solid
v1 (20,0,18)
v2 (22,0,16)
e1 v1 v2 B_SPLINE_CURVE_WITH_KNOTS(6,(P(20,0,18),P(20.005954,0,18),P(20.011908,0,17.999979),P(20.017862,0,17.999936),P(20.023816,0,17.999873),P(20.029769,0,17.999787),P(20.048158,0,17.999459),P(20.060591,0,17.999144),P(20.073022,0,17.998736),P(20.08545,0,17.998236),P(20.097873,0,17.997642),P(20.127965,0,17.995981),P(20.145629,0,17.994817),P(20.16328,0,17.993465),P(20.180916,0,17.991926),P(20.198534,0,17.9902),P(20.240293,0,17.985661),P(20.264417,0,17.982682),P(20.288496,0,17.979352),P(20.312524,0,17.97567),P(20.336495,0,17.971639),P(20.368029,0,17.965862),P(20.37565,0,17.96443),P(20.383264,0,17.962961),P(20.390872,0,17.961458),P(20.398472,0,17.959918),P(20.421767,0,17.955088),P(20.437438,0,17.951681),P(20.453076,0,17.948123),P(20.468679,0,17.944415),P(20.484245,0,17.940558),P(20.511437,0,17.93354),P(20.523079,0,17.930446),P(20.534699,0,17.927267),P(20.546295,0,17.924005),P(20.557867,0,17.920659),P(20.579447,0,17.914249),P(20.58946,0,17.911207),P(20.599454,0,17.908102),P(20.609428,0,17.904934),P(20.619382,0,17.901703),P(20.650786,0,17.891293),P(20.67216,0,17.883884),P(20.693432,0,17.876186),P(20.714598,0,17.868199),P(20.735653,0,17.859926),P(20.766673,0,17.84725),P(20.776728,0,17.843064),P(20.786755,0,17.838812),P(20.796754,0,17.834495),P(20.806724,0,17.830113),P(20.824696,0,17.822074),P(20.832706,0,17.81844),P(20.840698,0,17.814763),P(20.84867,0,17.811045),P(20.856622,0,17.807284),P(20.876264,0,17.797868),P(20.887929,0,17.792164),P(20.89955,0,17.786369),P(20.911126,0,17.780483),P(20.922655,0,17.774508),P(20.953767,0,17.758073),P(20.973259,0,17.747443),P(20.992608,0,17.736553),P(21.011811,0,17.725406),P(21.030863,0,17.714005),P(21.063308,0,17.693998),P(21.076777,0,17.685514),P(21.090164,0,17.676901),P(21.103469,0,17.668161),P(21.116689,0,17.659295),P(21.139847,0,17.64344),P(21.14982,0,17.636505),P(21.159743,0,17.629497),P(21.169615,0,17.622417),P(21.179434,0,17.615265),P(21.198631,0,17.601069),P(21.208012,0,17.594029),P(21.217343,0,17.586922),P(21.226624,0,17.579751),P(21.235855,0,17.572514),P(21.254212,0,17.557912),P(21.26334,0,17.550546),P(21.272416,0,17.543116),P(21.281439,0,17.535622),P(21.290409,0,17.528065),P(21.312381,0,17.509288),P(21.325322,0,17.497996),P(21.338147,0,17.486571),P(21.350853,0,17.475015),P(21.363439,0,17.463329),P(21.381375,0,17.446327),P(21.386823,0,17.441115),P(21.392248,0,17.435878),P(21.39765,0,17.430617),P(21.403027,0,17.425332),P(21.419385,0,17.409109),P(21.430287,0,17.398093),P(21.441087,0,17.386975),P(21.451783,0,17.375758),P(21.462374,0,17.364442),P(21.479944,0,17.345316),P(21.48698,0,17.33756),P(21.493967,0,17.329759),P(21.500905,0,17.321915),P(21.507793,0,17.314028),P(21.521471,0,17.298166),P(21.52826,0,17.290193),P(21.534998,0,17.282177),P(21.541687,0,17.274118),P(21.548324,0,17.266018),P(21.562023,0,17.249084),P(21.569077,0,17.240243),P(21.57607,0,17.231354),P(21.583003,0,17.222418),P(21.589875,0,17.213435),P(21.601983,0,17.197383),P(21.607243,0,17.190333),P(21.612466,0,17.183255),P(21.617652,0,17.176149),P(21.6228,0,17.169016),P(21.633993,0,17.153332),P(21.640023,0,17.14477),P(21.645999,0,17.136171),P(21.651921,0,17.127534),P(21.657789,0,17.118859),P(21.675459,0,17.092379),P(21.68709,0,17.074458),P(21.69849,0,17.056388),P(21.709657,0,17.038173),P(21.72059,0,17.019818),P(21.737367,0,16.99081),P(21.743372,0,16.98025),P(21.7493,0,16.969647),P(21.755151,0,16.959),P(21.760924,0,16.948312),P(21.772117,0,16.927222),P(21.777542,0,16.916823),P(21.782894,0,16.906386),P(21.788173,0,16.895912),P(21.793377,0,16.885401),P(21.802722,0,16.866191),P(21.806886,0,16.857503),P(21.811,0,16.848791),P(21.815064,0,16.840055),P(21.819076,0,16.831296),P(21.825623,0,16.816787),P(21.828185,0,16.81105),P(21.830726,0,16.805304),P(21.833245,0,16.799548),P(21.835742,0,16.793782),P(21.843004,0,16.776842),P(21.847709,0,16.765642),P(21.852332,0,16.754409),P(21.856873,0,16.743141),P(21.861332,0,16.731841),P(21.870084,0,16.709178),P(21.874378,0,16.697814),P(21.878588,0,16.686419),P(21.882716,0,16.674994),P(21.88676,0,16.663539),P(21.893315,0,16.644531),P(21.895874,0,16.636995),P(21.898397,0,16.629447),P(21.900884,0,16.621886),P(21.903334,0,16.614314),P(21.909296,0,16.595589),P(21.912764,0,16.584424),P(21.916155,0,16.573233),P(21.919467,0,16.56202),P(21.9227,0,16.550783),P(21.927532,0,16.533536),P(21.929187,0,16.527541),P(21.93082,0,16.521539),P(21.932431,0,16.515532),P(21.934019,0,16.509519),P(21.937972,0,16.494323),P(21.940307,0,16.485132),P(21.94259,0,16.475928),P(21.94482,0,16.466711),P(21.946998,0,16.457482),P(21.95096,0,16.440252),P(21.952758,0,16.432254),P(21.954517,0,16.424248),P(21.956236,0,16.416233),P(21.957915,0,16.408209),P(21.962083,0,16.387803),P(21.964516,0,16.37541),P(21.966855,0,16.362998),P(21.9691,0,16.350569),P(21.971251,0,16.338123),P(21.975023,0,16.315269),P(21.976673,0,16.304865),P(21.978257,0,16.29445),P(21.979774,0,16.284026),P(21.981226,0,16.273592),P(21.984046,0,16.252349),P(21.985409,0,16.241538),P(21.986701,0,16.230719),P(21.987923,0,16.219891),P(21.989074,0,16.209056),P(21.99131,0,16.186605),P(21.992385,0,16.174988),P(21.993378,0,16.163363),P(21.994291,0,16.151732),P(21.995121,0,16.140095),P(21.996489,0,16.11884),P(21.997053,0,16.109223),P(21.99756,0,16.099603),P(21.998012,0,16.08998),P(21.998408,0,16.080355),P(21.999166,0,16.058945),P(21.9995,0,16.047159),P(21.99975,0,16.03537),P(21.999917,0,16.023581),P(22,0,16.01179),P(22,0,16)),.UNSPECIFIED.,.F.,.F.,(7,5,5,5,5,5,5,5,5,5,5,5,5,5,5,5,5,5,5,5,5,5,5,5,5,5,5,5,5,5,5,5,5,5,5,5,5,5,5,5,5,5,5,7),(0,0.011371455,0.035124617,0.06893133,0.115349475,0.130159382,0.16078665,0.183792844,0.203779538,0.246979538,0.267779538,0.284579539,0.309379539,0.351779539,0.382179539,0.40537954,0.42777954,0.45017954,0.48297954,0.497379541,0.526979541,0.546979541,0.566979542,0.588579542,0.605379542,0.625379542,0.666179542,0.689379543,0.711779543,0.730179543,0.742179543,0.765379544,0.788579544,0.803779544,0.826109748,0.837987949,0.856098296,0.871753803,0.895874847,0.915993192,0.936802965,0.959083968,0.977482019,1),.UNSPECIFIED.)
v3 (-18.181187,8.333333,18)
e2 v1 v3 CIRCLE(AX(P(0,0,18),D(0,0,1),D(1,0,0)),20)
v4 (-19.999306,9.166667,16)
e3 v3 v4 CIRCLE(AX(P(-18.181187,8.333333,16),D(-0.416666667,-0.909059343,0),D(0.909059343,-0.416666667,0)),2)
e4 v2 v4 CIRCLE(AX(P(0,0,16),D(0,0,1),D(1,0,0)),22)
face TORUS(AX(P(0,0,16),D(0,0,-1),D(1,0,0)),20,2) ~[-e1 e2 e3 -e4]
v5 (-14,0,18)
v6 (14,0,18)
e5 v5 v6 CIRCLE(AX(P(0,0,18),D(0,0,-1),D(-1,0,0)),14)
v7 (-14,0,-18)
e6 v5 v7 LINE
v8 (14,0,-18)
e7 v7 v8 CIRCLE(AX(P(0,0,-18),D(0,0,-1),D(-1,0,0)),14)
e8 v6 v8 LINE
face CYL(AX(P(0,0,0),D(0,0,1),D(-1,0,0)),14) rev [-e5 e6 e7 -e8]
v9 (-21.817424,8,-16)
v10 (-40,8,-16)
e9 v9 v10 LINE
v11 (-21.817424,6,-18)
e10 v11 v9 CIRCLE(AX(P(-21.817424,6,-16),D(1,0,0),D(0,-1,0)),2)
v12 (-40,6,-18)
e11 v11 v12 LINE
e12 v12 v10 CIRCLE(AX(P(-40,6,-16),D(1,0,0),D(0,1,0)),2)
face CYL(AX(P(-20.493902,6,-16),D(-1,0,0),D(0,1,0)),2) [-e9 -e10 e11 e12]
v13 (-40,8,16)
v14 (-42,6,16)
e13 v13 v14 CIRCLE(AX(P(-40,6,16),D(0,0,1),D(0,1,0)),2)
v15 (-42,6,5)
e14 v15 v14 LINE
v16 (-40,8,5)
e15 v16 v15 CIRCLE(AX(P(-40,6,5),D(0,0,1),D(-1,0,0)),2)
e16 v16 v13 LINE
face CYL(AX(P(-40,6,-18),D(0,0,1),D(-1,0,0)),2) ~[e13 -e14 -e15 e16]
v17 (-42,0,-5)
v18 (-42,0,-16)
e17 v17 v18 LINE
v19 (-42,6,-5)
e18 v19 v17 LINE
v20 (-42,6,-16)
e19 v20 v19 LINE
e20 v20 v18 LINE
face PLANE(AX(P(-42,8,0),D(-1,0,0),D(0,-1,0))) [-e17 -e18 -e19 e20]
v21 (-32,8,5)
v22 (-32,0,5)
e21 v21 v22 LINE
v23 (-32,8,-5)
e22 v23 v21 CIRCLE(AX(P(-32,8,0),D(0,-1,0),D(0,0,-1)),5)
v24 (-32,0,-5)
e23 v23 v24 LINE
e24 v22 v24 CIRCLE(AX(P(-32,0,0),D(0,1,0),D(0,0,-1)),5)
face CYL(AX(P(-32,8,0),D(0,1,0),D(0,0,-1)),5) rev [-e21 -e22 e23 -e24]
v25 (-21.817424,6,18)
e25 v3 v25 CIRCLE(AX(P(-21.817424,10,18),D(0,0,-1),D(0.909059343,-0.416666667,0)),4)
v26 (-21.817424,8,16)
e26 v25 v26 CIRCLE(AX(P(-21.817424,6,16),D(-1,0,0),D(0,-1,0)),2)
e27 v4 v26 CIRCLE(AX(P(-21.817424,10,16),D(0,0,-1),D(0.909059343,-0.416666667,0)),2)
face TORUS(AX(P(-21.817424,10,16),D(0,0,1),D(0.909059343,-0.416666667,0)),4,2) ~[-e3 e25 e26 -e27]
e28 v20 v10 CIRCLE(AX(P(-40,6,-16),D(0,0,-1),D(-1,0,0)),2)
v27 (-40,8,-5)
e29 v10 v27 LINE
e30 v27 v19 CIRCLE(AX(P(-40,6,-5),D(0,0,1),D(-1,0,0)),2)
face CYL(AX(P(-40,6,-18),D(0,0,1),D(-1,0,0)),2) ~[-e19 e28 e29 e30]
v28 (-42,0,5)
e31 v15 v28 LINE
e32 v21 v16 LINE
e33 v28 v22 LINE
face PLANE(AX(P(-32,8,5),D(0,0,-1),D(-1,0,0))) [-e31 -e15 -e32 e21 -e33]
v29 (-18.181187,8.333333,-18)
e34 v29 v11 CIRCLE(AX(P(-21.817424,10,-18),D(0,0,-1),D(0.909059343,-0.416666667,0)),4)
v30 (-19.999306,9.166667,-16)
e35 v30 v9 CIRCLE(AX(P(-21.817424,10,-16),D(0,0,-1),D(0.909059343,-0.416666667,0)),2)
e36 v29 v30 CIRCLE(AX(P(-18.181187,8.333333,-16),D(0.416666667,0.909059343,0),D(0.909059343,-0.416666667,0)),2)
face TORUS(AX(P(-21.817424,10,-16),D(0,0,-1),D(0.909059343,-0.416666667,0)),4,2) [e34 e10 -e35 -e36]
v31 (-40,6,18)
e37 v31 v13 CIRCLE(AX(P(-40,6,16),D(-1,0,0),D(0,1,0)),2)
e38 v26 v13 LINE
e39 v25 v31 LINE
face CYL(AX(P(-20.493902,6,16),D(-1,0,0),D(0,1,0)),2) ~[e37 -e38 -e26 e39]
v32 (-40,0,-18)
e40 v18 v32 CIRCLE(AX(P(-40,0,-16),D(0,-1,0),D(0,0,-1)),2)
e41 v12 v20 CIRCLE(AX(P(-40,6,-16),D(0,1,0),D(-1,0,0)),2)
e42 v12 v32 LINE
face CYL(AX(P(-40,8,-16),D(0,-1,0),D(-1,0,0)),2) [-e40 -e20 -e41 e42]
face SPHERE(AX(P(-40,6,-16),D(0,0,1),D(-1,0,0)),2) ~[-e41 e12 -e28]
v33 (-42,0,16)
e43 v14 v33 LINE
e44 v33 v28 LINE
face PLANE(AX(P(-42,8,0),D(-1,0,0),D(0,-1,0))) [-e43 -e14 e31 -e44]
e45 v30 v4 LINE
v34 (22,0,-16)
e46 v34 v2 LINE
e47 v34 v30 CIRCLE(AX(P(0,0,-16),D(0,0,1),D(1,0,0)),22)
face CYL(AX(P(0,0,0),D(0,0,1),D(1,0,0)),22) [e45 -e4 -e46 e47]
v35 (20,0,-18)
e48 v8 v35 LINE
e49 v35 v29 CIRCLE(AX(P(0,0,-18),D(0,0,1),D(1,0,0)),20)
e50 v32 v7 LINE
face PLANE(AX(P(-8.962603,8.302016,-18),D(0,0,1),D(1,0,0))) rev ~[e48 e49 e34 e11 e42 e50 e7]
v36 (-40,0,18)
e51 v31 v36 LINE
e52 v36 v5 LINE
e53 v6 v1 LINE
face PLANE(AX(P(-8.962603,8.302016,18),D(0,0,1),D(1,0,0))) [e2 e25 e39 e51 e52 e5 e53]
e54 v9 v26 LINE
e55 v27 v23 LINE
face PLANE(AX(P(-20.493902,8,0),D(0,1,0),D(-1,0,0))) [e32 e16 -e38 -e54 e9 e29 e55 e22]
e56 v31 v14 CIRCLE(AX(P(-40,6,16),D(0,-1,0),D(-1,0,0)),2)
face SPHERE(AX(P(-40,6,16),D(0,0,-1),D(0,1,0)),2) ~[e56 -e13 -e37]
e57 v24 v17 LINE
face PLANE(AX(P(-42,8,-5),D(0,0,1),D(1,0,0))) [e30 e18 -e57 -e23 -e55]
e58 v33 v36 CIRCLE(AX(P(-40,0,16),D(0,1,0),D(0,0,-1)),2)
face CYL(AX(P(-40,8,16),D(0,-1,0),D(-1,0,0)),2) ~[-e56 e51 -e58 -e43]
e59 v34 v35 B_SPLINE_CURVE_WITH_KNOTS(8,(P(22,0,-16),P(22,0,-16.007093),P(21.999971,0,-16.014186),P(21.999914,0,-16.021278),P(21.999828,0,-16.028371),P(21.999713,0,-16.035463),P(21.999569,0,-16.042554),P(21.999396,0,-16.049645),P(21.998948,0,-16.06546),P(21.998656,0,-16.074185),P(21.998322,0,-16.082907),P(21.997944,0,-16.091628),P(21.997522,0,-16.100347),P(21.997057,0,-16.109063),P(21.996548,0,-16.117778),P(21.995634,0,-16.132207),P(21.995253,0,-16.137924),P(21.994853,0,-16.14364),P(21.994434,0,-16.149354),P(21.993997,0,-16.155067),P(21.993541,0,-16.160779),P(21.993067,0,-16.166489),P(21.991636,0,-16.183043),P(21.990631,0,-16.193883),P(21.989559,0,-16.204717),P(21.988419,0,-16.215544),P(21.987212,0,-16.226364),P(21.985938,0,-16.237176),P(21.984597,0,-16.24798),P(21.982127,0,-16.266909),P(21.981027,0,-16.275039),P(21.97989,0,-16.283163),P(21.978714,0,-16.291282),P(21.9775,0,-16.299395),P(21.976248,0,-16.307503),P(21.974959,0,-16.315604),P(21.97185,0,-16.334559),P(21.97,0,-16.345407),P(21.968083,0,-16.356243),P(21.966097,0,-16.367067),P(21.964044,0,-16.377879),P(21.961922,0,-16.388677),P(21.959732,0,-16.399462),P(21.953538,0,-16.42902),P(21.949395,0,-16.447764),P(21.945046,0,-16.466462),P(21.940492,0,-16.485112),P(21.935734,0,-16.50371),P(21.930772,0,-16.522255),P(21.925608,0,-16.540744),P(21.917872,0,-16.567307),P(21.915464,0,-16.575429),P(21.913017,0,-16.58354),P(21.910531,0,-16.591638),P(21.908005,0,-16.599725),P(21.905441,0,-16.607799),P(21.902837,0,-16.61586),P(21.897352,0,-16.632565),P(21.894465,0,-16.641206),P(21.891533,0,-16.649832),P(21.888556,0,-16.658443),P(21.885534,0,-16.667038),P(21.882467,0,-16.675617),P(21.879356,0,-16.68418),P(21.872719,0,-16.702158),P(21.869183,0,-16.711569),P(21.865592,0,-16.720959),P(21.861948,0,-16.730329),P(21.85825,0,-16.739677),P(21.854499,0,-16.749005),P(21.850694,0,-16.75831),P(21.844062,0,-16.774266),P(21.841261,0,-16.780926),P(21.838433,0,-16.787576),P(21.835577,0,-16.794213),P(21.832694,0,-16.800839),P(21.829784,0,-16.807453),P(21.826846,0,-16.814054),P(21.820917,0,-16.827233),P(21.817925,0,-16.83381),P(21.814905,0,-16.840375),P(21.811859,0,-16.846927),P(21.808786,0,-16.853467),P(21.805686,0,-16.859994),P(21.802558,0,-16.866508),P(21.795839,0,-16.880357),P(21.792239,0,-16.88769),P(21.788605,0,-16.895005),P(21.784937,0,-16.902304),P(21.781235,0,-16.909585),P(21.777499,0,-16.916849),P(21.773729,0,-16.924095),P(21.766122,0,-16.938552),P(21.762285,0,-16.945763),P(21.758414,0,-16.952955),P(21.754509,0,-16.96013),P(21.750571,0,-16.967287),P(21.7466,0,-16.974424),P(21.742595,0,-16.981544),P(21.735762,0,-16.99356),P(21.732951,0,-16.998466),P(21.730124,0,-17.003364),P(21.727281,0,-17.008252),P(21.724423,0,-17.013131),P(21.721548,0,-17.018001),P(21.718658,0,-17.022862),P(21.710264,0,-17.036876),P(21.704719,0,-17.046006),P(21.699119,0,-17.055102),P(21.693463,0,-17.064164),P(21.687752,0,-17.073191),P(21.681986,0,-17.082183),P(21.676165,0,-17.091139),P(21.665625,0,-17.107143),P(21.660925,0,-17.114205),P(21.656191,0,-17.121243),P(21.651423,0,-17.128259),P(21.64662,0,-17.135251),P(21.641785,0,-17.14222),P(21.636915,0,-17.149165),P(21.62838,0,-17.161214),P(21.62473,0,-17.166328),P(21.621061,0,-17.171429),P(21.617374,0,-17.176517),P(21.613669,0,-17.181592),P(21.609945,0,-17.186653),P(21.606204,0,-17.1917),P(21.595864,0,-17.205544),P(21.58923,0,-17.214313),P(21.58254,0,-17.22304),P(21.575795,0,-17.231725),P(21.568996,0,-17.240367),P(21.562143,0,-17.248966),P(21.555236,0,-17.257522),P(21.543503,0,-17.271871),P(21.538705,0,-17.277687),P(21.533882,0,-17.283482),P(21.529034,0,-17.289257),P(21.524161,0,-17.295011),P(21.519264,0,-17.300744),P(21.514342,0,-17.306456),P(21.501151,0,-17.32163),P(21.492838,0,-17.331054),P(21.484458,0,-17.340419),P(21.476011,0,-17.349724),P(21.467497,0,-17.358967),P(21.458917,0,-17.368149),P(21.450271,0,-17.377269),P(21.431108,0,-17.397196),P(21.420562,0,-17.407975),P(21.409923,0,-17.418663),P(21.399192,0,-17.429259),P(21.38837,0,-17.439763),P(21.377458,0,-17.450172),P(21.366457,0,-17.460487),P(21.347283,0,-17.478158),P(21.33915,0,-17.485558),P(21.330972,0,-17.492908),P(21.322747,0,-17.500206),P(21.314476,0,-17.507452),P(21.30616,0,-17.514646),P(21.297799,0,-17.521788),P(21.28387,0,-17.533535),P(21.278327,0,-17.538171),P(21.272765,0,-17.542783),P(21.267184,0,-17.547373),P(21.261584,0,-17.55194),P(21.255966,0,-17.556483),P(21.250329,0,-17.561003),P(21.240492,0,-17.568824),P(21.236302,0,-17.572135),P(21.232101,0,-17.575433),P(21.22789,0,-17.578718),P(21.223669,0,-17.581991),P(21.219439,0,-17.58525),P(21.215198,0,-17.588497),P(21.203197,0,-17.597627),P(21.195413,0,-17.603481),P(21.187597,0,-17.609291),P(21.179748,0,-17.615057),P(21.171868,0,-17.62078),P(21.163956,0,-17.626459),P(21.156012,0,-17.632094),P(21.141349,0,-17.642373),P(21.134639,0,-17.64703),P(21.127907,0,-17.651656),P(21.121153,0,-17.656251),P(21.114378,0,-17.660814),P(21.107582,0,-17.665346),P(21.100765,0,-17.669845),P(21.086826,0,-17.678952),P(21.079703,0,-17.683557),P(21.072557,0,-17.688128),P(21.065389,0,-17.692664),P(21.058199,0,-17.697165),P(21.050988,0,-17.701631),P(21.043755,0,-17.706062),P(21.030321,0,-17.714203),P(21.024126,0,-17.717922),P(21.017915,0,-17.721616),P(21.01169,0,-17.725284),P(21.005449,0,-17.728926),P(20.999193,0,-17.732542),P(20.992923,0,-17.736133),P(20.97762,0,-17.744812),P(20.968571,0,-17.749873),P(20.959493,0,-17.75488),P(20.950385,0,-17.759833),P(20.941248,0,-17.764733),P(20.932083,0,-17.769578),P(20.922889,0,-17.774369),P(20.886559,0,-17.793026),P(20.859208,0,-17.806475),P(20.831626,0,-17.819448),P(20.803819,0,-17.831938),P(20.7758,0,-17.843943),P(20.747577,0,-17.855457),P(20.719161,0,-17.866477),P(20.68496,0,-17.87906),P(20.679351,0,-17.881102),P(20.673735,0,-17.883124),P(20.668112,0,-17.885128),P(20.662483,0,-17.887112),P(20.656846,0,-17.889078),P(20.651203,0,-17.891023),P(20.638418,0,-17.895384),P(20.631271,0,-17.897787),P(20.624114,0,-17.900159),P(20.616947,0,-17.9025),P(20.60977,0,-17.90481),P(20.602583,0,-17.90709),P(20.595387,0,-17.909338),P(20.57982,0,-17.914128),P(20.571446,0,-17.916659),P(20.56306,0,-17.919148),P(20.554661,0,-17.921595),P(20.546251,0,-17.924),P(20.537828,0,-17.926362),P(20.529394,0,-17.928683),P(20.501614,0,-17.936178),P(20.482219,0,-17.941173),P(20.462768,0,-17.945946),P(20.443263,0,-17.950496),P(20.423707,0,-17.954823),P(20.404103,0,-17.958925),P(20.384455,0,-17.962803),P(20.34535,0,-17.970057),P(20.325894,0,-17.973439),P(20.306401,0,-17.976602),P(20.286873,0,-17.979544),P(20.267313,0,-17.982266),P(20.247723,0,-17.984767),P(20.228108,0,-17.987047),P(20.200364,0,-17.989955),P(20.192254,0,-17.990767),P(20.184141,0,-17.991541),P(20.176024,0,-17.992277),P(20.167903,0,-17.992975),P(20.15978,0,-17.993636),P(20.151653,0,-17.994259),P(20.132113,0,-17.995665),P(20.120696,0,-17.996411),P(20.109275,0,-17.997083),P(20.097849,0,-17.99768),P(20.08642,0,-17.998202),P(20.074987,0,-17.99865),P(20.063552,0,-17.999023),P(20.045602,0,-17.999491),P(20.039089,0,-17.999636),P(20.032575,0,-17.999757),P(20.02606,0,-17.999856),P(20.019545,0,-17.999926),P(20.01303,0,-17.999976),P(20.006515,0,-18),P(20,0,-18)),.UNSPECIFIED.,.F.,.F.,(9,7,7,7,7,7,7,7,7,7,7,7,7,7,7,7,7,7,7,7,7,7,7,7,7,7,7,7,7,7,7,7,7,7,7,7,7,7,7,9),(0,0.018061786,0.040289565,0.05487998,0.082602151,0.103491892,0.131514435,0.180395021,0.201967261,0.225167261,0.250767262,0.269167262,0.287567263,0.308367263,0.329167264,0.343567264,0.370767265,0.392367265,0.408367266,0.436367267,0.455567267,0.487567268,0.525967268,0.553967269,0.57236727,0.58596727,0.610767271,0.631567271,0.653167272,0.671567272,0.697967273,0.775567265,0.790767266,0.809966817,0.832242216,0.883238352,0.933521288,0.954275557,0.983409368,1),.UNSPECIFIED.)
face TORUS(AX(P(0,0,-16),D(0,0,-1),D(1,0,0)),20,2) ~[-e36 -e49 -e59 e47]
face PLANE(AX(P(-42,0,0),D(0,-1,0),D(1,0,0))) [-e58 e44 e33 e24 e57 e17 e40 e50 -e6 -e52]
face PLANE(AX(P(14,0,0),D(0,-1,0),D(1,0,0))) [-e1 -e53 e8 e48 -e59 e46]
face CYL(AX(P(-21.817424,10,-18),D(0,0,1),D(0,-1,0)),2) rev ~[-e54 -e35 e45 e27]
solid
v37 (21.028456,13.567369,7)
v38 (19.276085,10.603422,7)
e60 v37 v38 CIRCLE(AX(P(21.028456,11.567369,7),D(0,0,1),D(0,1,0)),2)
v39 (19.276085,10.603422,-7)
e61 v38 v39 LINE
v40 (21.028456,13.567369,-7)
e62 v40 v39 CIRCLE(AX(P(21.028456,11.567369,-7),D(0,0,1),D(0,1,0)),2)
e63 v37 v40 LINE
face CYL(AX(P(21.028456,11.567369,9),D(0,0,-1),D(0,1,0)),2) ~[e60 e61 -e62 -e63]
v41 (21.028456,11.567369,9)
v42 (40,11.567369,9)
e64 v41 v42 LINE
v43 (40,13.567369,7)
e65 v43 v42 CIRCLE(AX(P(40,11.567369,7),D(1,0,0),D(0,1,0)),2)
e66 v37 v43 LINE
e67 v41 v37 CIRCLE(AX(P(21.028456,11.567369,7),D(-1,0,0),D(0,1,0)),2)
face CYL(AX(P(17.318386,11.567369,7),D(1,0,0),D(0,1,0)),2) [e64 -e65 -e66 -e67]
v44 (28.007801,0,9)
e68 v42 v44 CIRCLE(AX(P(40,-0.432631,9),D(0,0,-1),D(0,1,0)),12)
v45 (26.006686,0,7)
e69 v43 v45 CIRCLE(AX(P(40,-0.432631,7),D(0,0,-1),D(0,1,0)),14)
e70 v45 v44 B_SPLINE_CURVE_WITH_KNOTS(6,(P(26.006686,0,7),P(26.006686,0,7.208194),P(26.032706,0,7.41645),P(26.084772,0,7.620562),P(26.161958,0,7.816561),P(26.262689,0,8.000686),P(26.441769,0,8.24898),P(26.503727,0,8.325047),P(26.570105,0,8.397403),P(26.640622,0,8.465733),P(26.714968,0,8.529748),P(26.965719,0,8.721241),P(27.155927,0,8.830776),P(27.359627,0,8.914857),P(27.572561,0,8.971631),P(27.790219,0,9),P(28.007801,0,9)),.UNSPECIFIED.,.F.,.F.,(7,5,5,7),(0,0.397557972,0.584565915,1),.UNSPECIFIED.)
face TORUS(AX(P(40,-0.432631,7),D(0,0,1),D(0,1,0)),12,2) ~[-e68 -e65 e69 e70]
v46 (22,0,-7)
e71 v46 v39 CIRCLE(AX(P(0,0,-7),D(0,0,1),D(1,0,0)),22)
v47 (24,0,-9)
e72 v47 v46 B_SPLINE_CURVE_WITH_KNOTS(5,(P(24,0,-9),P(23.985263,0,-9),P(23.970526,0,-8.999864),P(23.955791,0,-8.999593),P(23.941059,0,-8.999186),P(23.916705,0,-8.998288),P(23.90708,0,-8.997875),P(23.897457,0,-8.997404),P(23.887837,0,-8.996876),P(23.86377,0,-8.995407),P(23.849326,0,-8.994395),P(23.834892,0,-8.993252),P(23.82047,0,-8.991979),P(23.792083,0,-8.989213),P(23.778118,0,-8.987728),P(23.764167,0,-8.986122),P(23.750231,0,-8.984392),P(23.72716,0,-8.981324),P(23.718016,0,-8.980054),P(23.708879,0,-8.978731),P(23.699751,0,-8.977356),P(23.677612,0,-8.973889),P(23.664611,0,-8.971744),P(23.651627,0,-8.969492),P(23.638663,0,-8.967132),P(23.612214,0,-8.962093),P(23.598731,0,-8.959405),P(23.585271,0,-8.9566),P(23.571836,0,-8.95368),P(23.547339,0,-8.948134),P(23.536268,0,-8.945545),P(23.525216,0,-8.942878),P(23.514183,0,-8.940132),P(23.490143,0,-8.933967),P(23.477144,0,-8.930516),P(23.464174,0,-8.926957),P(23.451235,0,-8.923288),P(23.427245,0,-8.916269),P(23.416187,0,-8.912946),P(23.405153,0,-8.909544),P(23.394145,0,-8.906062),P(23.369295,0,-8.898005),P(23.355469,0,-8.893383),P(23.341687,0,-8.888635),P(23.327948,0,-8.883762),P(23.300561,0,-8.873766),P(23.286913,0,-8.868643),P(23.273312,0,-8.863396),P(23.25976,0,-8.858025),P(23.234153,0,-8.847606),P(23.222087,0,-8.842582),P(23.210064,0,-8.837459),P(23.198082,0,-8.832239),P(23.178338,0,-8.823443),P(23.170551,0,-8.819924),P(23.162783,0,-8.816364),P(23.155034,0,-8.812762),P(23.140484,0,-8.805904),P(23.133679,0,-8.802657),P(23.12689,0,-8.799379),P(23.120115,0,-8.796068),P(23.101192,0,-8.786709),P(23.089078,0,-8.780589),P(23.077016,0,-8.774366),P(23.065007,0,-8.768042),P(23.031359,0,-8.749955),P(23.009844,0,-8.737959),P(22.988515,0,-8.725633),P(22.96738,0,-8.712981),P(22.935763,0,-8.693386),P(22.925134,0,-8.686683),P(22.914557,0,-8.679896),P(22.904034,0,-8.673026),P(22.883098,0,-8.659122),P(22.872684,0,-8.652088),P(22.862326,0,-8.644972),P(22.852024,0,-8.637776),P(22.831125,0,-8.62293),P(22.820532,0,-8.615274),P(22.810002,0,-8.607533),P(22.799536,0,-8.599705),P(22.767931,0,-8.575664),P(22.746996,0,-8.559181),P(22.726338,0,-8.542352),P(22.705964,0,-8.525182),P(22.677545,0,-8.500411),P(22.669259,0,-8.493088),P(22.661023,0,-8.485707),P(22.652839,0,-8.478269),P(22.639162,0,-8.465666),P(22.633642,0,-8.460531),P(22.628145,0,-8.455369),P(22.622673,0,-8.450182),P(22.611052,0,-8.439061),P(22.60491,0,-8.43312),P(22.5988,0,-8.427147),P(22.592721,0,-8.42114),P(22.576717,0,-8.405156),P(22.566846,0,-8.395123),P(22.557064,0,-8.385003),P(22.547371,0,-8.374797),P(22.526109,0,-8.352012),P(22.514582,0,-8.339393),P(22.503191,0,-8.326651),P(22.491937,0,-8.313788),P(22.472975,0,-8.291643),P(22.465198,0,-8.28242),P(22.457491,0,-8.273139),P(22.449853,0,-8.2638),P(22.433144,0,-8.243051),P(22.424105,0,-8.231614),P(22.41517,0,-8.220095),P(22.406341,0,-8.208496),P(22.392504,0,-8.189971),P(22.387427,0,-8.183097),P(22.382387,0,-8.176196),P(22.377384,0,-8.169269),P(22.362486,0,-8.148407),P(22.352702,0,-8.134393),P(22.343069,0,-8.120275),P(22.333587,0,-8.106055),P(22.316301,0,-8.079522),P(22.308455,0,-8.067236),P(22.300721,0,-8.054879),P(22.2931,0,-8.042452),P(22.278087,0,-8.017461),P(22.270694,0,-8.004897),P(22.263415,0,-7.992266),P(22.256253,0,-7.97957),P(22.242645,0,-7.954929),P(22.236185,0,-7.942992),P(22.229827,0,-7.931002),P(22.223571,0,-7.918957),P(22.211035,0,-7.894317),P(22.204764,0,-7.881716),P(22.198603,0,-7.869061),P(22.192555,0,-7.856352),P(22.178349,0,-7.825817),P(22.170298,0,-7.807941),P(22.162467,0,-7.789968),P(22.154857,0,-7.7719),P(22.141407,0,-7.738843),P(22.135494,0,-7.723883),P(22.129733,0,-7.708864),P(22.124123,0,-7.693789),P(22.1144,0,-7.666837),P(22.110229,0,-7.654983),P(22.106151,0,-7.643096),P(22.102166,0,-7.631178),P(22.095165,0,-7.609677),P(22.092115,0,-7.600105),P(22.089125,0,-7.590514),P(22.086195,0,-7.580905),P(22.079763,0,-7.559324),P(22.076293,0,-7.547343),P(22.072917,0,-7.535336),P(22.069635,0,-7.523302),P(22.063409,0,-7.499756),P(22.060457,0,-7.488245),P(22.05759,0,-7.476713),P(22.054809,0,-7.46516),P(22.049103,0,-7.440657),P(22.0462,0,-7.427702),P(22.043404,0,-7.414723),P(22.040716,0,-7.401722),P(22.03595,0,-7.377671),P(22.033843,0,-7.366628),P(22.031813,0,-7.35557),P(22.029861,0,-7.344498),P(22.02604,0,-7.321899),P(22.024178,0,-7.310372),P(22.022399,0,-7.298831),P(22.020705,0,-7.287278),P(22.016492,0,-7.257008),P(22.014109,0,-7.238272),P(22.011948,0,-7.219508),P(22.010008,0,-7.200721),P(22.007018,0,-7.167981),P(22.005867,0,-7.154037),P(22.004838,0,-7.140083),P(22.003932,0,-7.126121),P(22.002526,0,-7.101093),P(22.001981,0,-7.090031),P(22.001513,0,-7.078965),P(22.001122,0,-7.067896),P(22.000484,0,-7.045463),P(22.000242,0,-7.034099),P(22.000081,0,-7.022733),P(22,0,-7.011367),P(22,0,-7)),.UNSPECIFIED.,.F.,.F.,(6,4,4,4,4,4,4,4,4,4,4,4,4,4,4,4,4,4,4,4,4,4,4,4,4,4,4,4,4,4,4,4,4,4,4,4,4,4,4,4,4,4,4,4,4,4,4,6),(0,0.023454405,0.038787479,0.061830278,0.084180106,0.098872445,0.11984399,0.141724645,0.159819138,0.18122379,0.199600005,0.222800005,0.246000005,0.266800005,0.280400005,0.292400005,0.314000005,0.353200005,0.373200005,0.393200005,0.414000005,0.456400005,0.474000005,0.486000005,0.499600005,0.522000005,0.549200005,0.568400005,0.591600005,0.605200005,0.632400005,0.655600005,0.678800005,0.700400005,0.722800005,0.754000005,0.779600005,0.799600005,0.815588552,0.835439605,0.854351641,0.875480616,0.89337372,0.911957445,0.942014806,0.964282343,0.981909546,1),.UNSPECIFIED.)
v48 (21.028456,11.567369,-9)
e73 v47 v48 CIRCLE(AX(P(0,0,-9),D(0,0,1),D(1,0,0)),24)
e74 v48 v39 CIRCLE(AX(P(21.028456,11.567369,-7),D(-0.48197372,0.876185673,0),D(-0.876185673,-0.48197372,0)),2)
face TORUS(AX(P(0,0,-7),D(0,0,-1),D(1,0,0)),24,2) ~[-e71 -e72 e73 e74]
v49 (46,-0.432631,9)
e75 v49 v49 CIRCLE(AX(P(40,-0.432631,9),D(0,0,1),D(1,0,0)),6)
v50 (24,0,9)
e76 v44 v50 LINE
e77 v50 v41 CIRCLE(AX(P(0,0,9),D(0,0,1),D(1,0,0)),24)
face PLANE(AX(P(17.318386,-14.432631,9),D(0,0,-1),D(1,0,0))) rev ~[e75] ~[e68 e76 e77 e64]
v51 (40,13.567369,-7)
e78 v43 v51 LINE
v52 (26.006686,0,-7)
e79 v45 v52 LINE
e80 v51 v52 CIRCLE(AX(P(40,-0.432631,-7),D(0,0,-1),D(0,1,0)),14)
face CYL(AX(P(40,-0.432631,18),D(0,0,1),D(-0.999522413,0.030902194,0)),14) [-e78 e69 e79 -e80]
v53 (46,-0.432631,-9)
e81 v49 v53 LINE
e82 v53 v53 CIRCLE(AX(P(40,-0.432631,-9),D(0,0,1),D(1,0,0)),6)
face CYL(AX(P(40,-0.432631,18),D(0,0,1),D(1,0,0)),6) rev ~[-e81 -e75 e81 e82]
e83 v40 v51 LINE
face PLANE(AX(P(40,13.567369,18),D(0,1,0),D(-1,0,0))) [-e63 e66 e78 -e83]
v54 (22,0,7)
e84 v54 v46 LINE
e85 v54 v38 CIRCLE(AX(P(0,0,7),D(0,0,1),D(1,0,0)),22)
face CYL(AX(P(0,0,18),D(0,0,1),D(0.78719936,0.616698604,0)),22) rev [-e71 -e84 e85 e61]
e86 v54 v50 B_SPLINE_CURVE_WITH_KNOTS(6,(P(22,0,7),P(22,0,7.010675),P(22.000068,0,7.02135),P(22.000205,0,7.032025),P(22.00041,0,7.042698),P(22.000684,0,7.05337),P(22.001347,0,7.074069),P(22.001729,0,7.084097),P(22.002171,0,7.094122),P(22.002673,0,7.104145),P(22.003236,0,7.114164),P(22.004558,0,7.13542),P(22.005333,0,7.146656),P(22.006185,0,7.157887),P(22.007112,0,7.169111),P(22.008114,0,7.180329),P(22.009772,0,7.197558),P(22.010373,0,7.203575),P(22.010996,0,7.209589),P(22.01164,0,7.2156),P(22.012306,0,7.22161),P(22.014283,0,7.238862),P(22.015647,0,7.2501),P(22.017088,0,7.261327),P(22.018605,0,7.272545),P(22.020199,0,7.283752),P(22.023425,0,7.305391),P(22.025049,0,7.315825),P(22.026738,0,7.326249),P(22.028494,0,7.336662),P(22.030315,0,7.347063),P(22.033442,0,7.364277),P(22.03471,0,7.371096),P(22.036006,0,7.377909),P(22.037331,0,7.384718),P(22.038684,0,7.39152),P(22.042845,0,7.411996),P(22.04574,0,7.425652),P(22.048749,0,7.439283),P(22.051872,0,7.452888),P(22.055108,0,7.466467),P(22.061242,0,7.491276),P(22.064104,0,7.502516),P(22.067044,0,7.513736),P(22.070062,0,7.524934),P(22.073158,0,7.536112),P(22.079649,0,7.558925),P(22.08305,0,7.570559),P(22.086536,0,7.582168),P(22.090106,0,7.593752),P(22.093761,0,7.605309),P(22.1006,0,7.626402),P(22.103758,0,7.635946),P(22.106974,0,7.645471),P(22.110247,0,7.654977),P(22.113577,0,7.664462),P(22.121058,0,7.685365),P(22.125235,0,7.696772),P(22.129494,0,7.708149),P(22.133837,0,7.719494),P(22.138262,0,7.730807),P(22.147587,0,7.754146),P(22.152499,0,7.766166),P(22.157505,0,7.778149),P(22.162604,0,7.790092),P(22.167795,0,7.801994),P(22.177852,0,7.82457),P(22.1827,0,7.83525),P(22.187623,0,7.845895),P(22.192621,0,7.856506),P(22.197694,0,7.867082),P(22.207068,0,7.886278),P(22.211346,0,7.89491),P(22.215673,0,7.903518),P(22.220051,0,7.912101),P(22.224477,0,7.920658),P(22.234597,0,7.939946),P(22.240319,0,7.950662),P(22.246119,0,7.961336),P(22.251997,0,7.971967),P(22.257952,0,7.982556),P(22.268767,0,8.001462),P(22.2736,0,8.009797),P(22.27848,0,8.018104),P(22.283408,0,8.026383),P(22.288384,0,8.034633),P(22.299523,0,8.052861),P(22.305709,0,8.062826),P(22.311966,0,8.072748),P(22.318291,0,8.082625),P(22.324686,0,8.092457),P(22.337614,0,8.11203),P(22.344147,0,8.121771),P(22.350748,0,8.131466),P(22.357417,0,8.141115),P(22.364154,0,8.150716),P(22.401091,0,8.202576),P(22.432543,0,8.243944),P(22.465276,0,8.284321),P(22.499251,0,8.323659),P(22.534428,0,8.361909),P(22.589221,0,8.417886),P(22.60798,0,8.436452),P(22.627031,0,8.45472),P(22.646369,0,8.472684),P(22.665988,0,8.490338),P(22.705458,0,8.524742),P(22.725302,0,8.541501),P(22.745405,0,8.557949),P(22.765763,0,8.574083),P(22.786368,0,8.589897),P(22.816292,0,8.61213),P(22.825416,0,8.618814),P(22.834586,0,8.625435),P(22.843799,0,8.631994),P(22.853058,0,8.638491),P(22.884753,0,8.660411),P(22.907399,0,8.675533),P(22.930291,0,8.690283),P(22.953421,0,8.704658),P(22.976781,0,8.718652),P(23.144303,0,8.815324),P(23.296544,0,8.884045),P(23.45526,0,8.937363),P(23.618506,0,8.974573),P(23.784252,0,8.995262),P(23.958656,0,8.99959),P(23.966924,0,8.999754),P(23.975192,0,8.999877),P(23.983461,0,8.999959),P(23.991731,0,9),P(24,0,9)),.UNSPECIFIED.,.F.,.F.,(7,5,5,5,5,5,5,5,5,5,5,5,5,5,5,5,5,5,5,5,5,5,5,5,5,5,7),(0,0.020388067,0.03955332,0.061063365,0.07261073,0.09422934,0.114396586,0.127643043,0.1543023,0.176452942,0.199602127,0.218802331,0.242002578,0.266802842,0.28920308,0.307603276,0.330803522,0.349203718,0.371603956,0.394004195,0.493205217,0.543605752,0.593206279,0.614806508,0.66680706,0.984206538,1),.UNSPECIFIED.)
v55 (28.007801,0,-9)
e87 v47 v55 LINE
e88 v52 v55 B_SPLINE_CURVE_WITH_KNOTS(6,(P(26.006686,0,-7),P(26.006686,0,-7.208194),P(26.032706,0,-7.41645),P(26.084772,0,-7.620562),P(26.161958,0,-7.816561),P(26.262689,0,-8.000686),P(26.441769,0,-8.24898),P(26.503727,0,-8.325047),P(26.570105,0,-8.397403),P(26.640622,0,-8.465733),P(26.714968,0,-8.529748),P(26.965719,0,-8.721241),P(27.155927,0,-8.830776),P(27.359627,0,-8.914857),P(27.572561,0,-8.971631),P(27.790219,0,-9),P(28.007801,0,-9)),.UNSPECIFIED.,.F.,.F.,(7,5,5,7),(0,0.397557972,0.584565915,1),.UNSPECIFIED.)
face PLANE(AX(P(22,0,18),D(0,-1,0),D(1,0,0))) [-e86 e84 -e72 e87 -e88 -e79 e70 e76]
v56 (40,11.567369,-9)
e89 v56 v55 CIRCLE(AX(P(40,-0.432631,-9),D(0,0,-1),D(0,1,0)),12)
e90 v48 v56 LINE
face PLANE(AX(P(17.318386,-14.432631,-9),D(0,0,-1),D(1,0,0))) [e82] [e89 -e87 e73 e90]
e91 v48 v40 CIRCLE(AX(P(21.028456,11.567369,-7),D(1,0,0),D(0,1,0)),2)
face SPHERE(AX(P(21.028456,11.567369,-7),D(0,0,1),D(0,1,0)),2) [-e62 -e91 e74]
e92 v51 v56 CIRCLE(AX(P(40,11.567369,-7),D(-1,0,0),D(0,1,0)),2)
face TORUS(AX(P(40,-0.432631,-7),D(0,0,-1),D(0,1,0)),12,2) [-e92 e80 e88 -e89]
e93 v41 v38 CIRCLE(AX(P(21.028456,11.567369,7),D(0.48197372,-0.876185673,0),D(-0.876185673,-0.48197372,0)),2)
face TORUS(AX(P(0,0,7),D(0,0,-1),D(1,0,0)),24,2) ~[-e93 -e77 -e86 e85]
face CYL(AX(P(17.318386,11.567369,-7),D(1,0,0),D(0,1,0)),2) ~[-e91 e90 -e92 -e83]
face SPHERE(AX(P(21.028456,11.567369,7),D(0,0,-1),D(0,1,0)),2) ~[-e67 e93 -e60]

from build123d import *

# Parameters (mm, degrees)
EXTRUDE_1_DEPTH     = 18
SKETCH_4_R          = 6
EXTRUDE_4_DEPTH     = 36
CUT_EXTRUDE_START   = -28
SKETCH_7_W          = 36.681614088
SKETCH_7_H          = 9
CUT_EXTRUDE_5_DEPTH = 28
FILLET_1_R          = 2
CUT_EXTRUDE_6_DEPTH = 62.181883925
FILLET_2_R          = 2


with BuildPart() as part:
    # 草圖1 → 填料-伸長1 (new, symmetric)
    with BuildSketch(Plane.XY):
        with BuildLine():
            Line((14, 0), (22, 0))
            ThreePointArc((22, 0), (4.070268191, 21.620196966), (-20.493901532, 8))
            Line((-20.493901532, 8), (-42, 8))
            Line((-42, 8), (-42, 0))
            Line((-42, 0), (-14, 0))
            ThreePointArc((-14, 0), (0, 14), (14, 0))
        make_face()
    extrude(amount=EXTRUDE_1_DEPTH, both=True)

    # 圓角1
    fillet_1_edges = [part.edges().sort_by_distance(p)[0] for p in [
        (-20.493901532, 8, 0),
        (-42, 8, 0),
        (4.070268191, 21.620196966, 18),
        (-31.246950766, 8, 18),
        (4.070268191, 21.620196966, -18),
        (-42, 4, 18),
        (-42, 4, -18),
        (-31.246950766, 8, -18),
    ]]
    fillet(fillet_1_edges, radius=FILLET_1_R)

    # 草圖2 → 除料-伸長6 (cut, through all)
    with BuildSketch(Plane(origin=(0, 8, 0), x_dir=(1, 0, 0), z_dir=(0, 1, 0))):
        with BuildLine():
            Line((-42, -5), (-42, 5))
            Line((-42, 5), (-32, 5))
            ThreePointArc((-32, 5), (-27, 0), (-32, -5))
            Line((-32, -5), (-42, -5))
        make_face()
    extrude(amount=-CUT_EXTRUDE_6_DEPTH, mode=Mode.SUBTRACT)


with BuildPart() as body_2:
    # 草圖4 → 填料-伸長4 (new body)
    with BuildSketch(Plane.XY.offset(18)):
        with BuildLine():
            Line((40, 13.567369288), (17.318385912, 13.567369288))
            ThreePointArc((17.318385912, 13.567369288), (20.796688319, 7.176193627), (22, 0))
            Line((22, 0), (26.006686216, 0))
            ThreePointArc((26.006686216, 0), (49.745336578, -10.483919932), (40, 13.567369288))
        make_face()
        with Locations((40, -0.432630712)):
            Circle(SKETCH_4_R, mode=Mode.SUBTRACT)
    extrude(amount=-EXTRUDE_4_DEPTH)

    # 草圖7 → 除料-伸長5 (cut)
    with BuildSketch(Plane(origin=(0, 13.567369288, 0), x_dir=(1, 0, 0), z_dir=(0, 1, 0)).offset(CUT_EXTRUDE_START)):
        with Locations((35.659192956, 13.5)):
            Rectangle(SKETCH_7_W, SKETCH_7_H)
        with Locations((35.659192956, -13.5)):
            Rectangle(SKETCH_7_W, SKETCH_7_H)
    extrude(amount=CUT_EXTRUDE_5_DEPTH, mode=Mode.SUBTRACT)

    # 圓角2
    fillet_2_edges = [body_2.edges().sort_by_distance(p)[0] for p in [
        (17.318385912, 13.567369288, 0),
        (28.659192956, 13.567369288, -9),
        (20.796688319, 7.176193627, -9),
        (49.745336578, -10.483919932, -9),
        (28.659192956, 13.567369288, 9),
        (49.745336578, -10.483919932, 9),
        (20.796688319, 7.176193627, 9),
    ]]
    fillet(fillet_2_edges, radius=FILLET_2_R)


solid = Compound([part.part, body_2.part])
